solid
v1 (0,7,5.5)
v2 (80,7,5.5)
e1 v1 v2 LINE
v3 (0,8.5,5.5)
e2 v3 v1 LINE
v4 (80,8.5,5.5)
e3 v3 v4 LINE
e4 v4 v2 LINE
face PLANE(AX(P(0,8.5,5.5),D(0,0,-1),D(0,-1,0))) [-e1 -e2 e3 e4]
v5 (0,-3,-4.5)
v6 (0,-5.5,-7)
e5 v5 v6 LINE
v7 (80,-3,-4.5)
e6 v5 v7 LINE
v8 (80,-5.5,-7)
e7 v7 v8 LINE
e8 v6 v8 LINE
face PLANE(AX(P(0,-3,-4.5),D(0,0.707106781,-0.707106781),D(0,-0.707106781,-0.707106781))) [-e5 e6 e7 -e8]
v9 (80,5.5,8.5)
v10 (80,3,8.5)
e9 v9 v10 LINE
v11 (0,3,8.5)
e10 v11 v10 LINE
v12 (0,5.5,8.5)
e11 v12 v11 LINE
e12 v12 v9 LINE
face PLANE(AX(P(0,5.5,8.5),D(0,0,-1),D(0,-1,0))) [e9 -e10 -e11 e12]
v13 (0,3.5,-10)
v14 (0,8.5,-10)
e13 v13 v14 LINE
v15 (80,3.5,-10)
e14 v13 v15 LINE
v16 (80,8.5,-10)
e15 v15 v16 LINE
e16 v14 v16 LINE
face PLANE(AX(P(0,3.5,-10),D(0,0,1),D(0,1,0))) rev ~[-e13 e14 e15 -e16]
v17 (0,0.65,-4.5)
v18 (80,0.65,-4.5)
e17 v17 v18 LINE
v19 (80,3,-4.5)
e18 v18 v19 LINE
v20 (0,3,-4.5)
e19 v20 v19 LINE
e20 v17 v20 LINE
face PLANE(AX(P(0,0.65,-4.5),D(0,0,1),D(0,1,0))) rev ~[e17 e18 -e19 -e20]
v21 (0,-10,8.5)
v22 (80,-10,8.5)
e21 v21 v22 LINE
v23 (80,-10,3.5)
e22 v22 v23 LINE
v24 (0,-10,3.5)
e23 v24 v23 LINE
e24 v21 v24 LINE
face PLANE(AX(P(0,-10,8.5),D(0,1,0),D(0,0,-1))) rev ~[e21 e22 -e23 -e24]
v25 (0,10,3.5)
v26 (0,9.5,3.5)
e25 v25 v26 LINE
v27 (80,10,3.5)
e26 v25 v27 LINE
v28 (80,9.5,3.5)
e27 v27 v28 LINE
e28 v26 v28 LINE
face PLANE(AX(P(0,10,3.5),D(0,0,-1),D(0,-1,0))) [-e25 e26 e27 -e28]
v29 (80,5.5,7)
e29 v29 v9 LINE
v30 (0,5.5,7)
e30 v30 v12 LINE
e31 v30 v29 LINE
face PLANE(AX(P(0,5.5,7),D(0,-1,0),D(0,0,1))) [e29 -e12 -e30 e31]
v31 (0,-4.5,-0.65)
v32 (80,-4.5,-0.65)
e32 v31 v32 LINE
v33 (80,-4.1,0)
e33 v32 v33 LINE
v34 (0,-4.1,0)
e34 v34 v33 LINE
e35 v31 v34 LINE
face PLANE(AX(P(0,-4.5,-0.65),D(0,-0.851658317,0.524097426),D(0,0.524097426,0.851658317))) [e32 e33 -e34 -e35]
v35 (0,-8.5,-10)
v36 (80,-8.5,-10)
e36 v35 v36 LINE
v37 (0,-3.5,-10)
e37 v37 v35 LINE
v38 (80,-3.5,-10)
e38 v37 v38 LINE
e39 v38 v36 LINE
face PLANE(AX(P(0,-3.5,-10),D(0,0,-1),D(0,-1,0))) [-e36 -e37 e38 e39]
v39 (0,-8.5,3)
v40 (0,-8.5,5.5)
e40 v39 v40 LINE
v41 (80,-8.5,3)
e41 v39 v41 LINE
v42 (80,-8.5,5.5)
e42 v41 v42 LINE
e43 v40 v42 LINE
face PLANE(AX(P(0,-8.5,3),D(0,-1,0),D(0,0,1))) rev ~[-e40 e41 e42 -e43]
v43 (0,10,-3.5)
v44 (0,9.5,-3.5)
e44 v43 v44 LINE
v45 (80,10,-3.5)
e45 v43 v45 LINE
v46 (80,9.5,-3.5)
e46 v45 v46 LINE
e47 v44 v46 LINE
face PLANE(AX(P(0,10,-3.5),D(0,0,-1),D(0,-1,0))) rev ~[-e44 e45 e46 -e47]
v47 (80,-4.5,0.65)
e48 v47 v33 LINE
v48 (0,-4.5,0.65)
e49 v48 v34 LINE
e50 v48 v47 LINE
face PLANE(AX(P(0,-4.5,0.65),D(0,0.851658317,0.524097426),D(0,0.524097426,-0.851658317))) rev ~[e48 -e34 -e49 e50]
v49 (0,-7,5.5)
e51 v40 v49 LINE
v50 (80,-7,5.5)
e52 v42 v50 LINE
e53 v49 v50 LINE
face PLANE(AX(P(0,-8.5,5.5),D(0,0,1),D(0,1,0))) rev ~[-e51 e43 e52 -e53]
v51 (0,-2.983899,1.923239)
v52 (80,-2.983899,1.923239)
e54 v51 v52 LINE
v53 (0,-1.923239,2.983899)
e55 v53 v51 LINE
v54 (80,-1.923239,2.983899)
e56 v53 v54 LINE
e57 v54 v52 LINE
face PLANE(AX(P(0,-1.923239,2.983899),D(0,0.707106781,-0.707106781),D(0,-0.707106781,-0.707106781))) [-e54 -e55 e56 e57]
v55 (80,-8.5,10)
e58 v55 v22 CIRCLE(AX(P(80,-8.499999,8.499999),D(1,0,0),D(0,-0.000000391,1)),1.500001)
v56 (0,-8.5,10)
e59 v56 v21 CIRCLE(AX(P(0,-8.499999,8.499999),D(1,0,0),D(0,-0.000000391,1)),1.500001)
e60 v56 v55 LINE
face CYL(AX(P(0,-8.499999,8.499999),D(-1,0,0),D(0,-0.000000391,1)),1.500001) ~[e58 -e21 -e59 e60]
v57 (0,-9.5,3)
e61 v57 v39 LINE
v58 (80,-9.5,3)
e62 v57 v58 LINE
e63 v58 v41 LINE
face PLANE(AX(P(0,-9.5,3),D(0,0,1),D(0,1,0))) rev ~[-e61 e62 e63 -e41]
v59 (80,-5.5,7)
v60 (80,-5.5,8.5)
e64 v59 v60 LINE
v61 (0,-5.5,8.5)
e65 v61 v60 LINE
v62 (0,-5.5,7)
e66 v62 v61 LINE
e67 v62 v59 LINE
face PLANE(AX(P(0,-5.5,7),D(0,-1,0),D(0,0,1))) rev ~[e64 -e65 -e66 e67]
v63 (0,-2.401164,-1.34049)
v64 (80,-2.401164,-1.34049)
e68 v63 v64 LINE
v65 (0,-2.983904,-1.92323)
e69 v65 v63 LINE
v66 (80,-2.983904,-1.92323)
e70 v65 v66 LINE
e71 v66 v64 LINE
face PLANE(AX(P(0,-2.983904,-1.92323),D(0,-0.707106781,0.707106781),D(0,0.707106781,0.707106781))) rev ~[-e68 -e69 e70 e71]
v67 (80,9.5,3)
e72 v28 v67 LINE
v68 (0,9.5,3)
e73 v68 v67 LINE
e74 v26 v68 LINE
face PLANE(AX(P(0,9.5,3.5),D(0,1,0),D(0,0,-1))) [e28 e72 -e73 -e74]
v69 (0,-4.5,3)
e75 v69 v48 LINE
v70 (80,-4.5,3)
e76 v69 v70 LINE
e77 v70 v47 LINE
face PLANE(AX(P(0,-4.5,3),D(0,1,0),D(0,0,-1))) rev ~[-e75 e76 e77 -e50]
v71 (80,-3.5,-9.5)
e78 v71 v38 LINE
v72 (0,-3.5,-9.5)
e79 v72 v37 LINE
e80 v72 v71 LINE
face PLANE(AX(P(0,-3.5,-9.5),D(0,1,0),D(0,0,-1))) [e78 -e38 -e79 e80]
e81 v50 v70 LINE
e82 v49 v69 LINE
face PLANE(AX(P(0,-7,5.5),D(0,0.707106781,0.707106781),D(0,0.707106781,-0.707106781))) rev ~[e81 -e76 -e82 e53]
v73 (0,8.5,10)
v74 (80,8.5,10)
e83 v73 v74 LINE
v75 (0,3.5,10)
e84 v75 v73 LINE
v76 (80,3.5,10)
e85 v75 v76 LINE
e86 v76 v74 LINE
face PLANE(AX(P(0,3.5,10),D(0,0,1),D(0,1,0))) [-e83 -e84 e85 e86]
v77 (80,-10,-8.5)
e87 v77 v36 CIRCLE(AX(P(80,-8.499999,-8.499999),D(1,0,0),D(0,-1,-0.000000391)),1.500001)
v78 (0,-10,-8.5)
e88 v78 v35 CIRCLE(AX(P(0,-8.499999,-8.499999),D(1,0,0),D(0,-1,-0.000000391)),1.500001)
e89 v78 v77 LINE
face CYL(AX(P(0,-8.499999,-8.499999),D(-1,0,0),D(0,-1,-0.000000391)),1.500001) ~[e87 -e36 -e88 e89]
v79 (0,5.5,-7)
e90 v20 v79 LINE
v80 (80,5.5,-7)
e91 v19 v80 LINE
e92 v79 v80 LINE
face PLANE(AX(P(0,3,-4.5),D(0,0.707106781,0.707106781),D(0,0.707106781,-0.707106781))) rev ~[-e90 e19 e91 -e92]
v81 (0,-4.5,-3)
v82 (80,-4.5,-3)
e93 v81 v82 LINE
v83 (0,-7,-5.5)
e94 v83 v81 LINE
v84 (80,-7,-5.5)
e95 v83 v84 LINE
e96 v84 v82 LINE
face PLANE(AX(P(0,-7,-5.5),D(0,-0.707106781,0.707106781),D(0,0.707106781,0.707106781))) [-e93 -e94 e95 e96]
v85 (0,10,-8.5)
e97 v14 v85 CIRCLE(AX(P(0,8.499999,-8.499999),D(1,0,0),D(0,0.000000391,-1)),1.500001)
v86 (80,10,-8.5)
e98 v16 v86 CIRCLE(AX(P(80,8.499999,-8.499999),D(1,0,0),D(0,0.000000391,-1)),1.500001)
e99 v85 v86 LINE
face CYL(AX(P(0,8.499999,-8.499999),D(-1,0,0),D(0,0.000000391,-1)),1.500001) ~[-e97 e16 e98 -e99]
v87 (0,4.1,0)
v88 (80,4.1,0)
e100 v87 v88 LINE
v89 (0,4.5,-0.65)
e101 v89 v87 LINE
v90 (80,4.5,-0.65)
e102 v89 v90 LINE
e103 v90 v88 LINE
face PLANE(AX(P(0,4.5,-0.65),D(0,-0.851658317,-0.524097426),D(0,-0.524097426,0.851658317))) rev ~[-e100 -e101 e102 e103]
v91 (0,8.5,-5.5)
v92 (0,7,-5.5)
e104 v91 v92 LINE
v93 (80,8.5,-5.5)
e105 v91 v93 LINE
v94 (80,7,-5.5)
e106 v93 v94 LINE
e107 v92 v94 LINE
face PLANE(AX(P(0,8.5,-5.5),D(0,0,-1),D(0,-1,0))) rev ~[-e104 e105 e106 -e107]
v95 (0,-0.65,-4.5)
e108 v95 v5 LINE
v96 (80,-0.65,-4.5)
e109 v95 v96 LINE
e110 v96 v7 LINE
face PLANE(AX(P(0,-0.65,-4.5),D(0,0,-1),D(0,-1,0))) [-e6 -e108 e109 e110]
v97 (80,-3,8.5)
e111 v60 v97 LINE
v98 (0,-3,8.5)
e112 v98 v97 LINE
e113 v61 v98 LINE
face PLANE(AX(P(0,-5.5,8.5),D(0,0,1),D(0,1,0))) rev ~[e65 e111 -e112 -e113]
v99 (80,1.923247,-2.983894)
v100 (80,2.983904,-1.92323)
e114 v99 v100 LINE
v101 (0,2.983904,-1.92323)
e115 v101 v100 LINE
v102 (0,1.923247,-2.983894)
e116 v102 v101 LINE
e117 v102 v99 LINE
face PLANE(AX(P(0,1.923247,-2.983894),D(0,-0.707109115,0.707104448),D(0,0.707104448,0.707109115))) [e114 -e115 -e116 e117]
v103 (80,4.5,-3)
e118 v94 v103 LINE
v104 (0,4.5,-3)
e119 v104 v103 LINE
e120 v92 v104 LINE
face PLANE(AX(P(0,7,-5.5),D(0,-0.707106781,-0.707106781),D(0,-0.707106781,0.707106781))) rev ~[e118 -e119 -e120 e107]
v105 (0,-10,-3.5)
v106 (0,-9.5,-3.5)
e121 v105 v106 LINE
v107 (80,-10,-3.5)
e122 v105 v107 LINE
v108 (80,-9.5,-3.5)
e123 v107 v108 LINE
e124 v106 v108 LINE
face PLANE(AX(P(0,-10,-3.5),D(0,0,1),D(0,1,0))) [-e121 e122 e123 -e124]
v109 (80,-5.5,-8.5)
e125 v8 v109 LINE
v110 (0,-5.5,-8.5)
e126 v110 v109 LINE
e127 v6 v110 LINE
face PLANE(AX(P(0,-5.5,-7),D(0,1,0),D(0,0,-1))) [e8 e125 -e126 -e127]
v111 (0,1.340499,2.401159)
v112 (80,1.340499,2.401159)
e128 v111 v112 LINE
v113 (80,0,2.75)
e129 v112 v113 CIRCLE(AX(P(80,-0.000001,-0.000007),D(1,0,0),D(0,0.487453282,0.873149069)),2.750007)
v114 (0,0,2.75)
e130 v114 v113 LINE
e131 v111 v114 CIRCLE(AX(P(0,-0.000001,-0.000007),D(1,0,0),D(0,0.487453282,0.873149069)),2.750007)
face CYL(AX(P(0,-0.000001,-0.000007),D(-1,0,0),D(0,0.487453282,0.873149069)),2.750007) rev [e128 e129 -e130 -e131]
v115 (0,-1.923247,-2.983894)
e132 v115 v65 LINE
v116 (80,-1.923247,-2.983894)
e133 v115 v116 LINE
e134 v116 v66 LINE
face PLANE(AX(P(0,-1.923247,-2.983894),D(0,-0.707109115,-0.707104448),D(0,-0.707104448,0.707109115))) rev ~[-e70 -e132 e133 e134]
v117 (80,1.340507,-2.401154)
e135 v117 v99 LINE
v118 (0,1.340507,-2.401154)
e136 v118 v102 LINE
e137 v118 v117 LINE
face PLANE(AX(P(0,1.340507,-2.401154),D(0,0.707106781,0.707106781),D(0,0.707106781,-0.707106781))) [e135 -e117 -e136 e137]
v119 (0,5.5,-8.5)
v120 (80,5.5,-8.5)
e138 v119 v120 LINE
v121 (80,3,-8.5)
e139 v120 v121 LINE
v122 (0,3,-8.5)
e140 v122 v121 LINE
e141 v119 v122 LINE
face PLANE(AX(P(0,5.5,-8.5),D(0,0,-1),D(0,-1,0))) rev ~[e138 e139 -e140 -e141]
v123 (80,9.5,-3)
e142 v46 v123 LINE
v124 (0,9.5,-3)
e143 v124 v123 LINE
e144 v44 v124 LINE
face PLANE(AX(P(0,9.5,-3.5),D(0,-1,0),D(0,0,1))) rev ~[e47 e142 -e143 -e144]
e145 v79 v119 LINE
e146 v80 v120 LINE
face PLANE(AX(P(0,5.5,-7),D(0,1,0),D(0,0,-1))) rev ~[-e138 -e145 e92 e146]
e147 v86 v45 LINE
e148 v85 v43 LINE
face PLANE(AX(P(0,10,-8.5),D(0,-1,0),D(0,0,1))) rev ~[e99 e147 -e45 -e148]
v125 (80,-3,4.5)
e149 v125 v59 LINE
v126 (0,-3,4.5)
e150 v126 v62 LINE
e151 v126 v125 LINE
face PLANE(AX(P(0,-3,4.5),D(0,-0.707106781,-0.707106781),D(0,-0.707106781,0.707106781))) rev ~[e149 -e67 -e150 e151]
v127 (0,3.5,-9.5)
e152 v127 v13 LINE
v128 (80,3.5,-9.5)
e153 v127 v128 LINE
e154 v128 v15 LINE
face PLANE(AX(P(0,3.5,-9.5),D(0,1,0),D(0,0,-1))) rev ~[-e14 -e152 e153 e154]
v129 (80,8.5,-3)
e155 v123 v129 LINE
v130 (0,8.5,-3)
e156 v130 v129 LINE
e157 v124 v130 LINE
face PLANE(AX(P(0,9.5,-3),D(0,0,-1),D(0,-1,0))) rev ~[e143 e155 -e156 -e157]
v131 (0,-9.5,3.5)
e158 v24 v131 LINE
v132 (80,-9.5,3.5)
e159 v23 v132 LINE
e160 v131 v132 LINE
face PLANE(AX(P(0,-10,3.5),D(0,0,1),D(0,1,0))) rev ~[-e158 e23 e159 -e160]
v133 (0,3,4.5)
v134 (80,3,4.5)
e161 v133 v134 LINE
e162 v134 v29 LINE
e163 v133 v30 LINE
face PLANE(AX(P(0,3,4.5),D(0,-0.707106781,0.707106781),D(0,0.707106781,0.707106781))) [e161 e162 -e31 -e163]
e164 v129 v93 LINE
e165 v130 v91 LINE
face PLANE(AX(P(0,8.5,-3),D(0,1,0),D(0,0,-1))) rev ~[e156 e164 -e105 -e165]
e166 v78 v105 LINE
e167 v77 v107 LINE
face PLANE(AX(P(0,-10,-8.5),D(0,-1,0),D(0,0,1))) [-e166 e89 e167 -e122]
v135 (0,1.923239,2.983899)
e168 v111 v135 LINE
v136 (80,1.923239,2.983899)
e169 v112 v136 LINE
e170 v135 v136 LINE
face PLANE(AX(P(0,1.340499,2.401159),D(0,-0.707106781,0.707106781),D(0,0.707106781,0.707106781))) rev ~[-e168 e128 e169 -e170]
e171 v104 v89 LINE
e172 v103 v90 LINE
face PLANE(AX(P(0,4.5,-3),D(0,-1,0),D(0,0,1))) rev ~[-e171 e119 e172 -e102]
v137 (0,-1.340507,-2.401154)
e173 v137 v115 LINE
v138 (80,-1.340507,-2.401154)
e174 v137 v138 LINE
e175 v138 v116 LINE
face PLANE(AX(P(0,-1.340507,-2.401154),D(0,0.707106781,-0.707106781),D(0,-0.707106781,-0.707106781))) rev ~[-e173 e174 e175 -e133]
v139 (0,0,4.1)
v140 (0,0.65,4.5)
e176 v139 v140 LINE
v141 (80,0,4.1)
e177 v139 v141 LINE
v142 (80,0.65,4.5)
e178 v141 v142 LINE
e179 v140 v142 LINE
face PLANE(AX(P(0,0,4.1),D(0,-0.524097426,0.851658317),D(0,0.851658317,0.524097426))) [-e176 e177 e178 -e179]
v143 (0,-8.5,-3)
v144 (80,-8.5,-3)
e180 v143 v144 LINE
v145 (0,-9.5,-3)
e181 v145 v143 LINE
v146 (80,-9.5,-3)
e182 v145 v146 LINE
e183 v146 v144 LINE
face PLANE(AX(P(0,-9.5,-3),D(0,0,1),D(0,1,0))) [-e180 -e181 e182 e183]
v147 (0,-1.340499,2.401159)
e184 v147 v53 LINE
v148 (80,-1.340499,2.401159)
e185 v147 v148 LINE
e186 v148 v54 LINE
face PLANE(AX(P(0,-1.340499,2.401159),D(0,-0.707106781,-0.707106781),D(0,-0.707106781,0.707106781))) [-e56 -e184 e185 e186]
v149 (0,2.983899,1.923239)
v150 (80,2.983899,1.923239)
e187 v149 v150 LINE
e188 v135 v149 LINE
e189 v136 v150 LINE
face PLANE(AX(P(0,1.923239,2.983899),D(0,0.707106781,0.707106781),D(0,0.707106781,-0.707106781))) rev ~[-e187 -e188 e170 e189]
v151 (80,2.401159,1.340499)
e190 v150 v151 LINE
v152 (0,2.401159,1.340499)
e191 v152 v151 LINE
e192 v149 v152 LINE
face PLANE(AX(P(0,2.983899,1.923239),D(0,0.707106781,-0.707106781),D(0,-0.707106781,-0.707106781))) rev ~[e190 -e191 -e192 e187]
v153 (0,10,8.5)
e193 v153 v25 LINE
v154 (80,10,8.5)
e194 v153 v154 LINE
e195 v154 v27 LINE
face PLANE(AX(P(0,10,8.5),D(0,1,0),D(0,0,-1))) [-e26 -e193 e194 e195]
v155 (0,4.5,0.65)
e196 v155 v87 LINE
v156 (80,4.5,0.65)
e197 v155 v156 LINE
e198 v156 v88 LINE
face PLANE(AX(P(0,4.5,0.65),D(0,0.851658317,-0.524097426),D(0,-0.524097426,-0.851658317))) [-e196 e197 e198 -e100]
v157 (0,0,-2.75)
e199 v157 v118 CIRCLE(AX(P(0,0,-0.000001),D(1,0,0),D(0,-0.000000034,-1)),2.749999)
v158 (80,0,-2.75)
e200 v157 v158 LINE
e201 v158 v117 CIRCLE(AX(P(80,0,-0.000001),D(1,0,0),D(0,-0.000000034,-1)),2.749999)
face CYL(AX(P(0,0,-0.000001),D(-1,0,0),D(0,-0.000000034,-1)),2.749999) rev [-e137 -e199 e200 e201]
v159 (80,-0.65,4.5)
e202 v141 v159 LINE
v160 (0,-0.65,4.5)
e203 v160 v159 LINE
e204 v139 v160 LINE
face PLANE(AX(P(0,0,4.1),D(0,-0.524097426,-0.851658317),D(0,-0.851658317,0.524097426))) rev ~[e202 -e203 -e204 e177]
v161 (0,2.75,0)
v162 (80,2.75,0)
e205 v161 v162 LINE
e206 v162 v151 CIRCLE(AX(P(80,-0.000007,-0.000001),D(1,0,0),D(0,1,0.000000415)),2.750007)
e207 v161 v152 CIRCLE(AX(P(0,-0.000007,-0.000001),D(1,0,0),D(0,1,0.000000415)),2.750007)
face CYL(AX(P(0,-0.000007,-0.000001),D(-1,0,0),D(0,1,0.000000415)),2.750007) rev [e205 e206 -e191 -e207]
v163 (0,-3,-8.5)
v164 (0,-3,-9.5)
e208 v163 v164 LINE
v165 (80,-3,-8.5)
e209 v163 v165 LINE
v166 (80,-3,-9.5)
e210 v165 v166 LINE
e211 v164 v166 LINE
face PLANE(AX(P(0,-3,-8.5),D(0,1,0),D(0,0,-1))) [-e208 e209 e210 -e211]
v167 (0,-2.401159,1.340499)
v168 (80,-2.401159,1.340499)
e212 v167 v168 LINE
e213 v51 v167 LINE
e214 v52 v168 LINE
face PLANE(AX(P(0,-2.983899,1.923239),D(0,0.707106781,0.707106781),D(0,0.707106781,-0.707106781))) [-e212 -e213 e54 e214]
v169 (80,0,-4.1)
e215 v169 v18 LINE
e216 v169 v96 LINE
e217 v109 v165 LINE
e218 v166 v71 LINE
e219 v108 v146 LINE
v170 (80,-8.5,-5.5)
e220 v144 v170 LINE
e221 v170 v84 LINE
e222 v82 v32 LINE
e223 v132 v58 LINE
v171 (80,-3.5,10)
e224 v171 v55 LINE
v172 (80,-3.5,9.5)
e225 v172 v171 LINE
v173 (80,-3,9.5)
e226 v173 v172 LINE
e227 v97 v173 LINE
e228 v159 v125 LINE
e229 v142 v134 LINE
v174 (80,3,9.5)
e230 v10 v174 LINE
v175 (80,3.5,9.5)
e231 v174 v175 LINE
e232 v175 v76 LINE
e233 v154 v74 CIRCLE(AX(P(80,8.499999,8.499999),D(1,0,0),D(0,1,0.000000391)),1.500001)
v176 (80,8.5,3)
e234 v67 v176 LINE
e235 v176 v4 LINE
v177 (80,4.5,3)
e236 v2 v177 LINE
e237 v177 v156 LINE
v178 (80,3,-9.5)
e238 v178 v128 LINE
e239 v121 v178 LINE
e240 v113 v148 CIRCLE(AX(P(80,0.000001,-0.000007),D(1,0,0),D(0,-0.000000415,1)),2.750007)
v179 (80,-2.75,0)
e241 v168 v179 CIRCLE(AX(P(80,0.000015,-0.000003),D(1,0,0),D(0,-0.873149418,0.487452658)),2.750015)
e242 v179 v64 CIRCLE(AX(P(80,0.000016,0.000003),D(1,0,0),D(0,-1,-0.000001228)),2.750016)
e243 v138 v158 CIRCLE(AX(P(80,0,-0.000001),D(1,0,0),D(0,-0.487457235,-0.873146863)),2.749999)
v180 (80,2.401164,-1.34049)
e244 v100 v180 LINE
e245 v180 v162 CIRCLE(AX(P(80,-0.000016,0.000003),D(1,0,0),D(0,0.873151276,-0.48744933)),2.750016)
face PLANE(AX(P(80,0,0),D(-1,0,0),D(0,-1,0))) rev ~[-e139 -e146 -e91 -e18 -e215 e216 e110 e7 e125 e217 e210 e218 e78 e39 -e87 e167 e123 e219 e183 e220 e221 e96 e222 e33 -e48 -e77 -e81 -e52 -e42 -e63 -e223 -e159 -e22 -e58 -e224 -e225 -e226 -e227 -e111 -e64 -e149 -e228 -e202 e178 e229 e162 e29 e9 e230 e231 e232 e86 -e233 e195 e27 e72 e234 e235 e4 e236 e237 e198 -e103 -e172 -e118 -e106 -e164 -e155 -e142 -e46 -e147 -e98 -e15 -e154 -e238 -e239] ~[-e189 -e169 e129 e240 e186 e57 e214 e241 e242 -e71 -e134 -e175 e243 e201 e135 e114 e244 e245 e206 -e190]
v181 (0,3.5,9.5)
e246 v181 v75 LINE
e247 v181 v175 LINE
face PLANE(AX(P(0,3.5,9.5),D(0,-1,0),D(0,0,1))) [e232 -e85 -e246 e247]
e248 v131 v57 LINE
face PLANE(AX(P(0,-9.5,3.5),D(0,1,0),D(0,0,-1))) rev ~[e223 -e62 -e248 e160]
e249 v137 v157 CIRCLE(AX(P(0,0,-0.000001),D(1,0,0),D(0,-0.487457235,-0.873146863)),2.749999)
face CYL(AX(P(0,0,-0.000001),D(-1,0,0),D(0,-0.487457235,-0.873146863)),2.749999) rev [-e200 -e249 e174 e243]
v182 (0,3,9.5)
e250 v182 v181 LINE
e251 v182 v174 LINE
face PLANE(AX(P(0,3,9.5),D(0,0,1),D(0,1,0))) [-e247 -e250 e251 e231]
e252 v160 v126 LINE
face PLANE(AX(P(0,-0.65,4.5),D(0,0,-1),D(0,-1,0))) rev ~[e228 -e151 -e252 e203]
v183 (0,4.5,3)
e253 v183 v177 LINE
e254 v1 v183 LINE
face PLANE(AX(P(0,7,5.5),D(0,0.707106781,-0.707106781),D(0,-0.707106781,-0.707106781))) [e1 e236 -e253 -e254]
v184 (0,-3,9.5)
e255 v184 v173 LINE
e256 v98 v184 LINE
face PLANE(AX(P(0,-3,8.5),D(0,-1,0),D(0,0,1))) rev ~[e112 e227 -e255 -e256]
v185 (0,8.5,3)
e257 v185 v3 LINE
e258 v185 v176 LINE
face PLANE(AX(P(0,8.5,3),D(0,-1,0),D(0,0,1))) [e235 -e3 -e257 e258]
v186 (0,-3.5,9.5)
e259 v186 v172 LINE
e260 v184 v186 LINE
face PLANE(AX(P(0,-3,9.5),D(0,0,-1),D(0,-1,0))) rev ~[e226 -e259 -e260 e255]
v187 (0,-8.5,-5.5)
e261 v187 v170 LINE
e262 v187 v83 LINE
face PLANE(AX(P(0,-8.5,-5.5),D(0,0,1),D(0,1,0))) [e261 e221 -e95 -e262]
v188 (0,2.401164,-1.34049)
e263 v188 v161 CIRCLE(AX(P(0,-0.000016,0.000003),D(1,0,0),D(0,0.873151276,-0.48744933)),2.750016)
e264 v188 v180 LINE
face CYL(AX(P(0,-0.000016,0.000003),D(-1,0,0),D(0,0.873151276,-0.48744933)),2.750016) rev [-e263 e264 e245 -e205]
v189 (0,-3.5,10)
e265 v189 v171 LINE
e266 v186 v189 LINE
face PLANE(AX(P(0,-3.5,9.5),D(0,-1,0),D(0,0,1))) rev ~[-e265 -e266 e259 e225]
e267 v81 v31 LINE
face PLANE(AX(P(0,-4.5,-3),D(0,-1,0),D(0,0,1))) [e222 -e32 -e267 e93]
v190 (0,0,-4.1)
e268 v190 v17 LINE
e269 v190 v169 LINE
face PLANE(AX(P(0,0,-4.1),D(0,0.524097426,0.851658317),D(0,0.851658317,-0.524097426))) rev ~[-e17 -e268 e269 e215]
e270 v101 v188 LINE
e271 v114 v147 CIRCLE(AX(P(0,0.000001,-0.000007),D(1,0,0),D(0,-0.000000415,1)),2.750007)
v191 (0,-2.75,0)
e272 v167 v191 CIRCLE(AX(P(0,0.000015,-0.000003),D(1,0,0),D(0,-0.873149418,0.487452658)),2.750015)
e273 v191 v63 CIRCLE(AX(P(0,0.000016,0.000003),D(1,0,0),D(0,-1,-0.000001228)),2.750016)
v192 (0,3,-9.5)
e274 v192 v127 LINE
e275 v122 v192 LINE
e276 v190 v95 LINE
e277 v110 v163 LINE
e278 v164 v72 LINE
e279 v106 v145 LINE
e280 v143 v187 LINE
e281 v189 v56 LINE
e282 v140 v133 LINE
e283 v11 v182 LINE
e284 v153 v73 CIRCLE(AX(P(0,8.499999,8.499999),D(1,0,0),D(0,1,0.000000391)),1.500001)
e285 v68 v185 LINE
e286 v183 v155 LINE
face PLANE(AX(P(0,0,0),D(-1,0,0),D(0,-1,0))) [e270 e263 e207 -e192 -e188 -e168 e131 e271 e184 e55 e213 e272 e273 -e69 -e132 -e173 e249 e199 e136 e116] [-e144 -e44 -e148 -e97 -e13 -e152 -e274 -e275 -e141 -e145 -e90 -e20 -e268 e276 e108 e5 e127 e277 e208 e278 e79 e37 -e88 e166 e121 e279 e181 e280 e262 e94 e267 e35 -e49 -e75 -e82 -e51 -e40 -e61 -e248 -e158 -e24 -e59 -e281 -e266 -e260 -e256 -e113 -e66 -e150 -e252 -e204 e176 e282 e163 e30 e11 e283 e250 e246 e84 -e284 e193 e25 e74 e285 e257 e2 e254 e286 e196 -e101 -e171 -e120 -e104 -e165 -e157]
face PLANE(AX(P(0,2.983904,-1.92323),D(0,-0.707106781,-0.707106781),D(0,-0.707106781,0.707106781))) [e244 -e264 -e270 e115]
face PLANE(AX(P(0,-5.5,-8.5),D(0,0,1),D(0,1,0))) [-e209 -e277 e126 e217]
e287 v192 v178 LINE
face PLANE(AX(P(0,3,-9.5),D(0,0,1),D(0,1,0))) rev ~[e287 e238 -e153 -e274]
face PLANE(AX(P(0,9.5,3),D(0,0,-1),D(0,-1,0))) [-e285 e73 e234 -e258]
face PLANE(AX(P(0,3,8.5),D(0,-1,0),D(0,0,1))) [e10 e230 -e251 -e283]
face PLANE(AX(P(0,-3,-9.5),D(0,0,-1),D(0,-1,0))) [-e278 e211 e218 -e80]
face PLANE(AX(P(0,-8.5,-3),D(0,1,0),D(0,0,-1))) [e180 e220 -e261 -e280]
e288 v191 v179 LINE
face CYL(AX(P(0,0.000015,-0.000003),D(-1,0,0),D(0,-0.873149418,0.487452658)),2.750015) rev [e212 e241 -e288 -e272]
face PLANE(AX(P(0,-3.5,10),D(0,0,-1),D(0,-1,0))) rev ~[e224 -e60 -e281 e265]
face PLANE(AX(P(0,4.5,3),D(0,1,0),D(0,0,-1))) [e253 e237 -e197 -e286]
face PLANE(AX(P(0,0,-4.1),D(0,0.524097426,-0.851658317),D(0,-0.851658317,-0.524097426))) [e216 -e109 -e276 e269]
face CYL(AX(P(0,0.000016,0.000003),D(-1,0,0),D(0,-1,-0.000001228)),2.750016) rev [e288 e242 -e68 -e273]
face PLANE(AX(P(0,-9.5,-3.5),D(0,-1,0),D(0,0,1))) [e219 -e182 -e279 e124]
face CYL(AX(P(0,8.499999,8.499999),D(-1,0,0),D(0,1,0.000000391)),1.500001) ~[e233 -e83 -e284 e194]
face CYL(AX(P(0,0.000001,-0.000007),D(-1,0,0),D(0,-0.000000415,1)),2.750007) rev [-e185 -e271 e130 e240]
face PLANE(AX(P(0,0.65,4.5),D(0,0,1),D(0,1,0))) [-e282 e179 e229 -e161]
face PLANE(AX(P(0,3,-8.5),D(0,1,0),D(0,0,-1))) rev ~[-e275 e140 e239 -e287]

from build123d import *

# Parameters (mm, degrees)
PAD_DEPTH = 80


with BuildPart() as part:
    # Sketch → Pad (new body)
    with BuildSketch(Plane.YZ):
        with BuildLine():
            Line((0, 4.1), (0.65, 4.5))
            Line((0.65, 4.5), (3, 4.5))
            Line((3, 4.5), (5.5, 7))
            Line((5.5, 7), (5.5, 8.5))
            Line((5.5, 8.5), (3, 8.5))
            Line((3, 8.5), (3, 9.5))
            Line((3, 9.5), (3.5, 9.5))
            Line((3.5, 9.5), (3.5, 10))
            Line((3.5, 10), (8.5, 10))
            ThreePointArc((10, 8.5), (9.56066, 9.56066), (8.5, 10))
            Line((10, 8.5), (10, 3.5))
            Line((10, 3.5), (9.5, 3.5))
            Line((9.5, 3.5), (9.5, 3))
            Line((9.5, 3), (8.5, 3))
            Line((8.5, 3), (8.5, 5.5))
            Line((8.5, 5.5), (7, 5.5))
            Line((7, 5.5), (4.5, 3))
            Line((4.5, 3), (4.5, 0.65))
            Line((4.5, 0.65), (4.1, 0))
            Line((4.5, -0.65), (4.1, 0))
            Line((4.5, -3), (4.5, -0.65))
            Line((7, -5.5), (4.5, -3))
            Line((8.5, -5.5), (7, -5.5))
            Line((8.5, -3), (8.5, -5.5))
            Line((9.5, -3), (8.5, -3))
            Line((9.5, -3.5), (9.5, -3))
            Line((10, -3.5), (9.5, -3.5))
            Line((10, -8.5), (10, -3.5))
            ThreePointArc((8.5, -10), (9.56066, -9.56066), (10, -8.5))
            Line((3.5, -10), (8.5, -10))
            Line((3.5, -9.5), (3.5, -10))
            Line((3, -9.5), (3.5, -9.5))
            Line((3, -8.5), (3, -9.5))
            Line((5.5, -8.5), (3, -8.5))
            Line((5.5, -7), (5.5, -8.5))
            Line((3, -4.5), (5.5, -7))
            Line((0.65, -4.5), (3, -4.5))
            Line((0, -4.1), (0.65, -4.5))
            Line((0, -4.1), (-0.65, -4.5))
            Line((-0.65, -4.5), (-3, -4.5))
            Line((-3, -4.5), (-5.5, -7))
            Line((-5.5, -7), (-5.5, -8.5))
            Line((-5.5, -8.5), (-3, -8.5))
            Line((-3, -8.5), (-3, -9.5))
            Line((-3, -9.5), (-3.5, -9.5))
            Line((-3.5, -9.5), (-3.5, -10))
            Line((-3.5, -10), (-8.5, -10))
            ThreePointArc((-10, -8.5), (-9.56066, -9.56066), (-8.5, -10))
            Line((-10, -8.5), (-10, -3.5))
            Line((-10, -3.5), (-9.5, -3.5))
            Line((-9.5, -3.5), (-9.5, -3))
            Line((-9.5, -3), (-8.5, -3))
            Line((-8.5, -3), (-8.5, -5.5))
            Line((-8.5, -5.5), (-7, -5.5))
            Line((-7, -5.5), (-4.5, -3))
            Line((-4.5, -3), (-4.5, -0.65))
            Line((-4.5, -0.65), (-4.1, 0))
            Line((-4.5, 0.65), (-4.1, 0))
            Line((-4.5, 3), (-4.5, 0.65))
            Line((-7, 5.5), (-4.5, 3))
            Line((-8.5, 5.5), (-7, 5.5))
            Line((-8.5, 3), (-8.5, 5.5))
            Line((-9.5, 3), (-8.5, 3))
            Line((-9.5, 3.5), (-9.5, 3))
            Line((-10, 3.5), (-9.5, 3.5))
            Line((-10, 8.5), (-10, 3.5))
            ThreePointArc((-8.5, 10), (-9.56066, 9.56066), (-10, 8.5))
            Line((-3.5, 10), (-8.5, 10))
            Line((-3.5, 9.5), (-3.5, 10))
            Line((-3, 9.5), (-3.5, 9.5))
            Line((-3, 8.5), (-3, 9.5))
            Line((-5.5, 8.5), (-3, 8.5))
            Line((-5.5, 7), (-5.5, 8.5))
            Line((-3, 4.5), (-5.5, 7))
            Line((-0.65, 4.5), (-3, 4.5))
            Line((0, 4.1), (-0.65, 4.5))
        make_face()
        with BuildLine():
            Line((1.340499, 2.401159), (1.923239, 2.983899))
            Line((1.923239, 2.983899), (2.983899, 1.923239))
            Line((2.983899, 1.923239), (2.401159, 1.340499))
            ThreePointArc((2.75, 0), (2.661361, 0.692573), (2.401159, 1.340499))
            ThreePointArc((2.401164, -1.34049), (2.661362, -0.692568), (2.75, 0))
            Line((2.983904, -1.92323), (2.401164, -1.34049))
            Line((1.923247, -2.983894), (2.983904, -1.92323))
            Line((1.340507, -2.401154), (1.923247, -2.983894))
            ThreePointArc((0, -2.75), (0.692577, -2.66136), (1.340507, -2.401154))
            ThreePointArc((-1.340507, -2.401154), (-0.692577, -2.66136), (0, -2.75))
            Line((-1.340507, -2.401154), (-1.923247, -2.983894))
            Line((-1.923247, -2.983894), (-2.983904, -1.92323))
            Line((-2.983904, -1.92323), (-2.401164, -1.34049))
            ThreePointArc((-2.75, 0), (-2.661362, -0.692568), (-2.401164, -1.34049))
            ThreePointArc((-2.401159, 1.340499), (-2.661361, 0.692572), (-2.75, 0))
            Line((-2.983899, 1.923239), (-2.401159, 1.340499))
            Line((-1.923239, 2.983899), (-2.983899, 1.923239))
            Line((-1.340499, 2.401159), (-1.923239, 2.983899))
            ThreePointArc((0, 2.75), (-0.692573, 2.661361), (-1.340499, 2.401159))
            ThreePointArc((1.340499, 2.401159), (0.692573, 2.661361), (0, 2.75))
        make_face(mode=Mode.SUBTRACT)
    extrude(amount=PAD_DEPTH)


solid = part.part
